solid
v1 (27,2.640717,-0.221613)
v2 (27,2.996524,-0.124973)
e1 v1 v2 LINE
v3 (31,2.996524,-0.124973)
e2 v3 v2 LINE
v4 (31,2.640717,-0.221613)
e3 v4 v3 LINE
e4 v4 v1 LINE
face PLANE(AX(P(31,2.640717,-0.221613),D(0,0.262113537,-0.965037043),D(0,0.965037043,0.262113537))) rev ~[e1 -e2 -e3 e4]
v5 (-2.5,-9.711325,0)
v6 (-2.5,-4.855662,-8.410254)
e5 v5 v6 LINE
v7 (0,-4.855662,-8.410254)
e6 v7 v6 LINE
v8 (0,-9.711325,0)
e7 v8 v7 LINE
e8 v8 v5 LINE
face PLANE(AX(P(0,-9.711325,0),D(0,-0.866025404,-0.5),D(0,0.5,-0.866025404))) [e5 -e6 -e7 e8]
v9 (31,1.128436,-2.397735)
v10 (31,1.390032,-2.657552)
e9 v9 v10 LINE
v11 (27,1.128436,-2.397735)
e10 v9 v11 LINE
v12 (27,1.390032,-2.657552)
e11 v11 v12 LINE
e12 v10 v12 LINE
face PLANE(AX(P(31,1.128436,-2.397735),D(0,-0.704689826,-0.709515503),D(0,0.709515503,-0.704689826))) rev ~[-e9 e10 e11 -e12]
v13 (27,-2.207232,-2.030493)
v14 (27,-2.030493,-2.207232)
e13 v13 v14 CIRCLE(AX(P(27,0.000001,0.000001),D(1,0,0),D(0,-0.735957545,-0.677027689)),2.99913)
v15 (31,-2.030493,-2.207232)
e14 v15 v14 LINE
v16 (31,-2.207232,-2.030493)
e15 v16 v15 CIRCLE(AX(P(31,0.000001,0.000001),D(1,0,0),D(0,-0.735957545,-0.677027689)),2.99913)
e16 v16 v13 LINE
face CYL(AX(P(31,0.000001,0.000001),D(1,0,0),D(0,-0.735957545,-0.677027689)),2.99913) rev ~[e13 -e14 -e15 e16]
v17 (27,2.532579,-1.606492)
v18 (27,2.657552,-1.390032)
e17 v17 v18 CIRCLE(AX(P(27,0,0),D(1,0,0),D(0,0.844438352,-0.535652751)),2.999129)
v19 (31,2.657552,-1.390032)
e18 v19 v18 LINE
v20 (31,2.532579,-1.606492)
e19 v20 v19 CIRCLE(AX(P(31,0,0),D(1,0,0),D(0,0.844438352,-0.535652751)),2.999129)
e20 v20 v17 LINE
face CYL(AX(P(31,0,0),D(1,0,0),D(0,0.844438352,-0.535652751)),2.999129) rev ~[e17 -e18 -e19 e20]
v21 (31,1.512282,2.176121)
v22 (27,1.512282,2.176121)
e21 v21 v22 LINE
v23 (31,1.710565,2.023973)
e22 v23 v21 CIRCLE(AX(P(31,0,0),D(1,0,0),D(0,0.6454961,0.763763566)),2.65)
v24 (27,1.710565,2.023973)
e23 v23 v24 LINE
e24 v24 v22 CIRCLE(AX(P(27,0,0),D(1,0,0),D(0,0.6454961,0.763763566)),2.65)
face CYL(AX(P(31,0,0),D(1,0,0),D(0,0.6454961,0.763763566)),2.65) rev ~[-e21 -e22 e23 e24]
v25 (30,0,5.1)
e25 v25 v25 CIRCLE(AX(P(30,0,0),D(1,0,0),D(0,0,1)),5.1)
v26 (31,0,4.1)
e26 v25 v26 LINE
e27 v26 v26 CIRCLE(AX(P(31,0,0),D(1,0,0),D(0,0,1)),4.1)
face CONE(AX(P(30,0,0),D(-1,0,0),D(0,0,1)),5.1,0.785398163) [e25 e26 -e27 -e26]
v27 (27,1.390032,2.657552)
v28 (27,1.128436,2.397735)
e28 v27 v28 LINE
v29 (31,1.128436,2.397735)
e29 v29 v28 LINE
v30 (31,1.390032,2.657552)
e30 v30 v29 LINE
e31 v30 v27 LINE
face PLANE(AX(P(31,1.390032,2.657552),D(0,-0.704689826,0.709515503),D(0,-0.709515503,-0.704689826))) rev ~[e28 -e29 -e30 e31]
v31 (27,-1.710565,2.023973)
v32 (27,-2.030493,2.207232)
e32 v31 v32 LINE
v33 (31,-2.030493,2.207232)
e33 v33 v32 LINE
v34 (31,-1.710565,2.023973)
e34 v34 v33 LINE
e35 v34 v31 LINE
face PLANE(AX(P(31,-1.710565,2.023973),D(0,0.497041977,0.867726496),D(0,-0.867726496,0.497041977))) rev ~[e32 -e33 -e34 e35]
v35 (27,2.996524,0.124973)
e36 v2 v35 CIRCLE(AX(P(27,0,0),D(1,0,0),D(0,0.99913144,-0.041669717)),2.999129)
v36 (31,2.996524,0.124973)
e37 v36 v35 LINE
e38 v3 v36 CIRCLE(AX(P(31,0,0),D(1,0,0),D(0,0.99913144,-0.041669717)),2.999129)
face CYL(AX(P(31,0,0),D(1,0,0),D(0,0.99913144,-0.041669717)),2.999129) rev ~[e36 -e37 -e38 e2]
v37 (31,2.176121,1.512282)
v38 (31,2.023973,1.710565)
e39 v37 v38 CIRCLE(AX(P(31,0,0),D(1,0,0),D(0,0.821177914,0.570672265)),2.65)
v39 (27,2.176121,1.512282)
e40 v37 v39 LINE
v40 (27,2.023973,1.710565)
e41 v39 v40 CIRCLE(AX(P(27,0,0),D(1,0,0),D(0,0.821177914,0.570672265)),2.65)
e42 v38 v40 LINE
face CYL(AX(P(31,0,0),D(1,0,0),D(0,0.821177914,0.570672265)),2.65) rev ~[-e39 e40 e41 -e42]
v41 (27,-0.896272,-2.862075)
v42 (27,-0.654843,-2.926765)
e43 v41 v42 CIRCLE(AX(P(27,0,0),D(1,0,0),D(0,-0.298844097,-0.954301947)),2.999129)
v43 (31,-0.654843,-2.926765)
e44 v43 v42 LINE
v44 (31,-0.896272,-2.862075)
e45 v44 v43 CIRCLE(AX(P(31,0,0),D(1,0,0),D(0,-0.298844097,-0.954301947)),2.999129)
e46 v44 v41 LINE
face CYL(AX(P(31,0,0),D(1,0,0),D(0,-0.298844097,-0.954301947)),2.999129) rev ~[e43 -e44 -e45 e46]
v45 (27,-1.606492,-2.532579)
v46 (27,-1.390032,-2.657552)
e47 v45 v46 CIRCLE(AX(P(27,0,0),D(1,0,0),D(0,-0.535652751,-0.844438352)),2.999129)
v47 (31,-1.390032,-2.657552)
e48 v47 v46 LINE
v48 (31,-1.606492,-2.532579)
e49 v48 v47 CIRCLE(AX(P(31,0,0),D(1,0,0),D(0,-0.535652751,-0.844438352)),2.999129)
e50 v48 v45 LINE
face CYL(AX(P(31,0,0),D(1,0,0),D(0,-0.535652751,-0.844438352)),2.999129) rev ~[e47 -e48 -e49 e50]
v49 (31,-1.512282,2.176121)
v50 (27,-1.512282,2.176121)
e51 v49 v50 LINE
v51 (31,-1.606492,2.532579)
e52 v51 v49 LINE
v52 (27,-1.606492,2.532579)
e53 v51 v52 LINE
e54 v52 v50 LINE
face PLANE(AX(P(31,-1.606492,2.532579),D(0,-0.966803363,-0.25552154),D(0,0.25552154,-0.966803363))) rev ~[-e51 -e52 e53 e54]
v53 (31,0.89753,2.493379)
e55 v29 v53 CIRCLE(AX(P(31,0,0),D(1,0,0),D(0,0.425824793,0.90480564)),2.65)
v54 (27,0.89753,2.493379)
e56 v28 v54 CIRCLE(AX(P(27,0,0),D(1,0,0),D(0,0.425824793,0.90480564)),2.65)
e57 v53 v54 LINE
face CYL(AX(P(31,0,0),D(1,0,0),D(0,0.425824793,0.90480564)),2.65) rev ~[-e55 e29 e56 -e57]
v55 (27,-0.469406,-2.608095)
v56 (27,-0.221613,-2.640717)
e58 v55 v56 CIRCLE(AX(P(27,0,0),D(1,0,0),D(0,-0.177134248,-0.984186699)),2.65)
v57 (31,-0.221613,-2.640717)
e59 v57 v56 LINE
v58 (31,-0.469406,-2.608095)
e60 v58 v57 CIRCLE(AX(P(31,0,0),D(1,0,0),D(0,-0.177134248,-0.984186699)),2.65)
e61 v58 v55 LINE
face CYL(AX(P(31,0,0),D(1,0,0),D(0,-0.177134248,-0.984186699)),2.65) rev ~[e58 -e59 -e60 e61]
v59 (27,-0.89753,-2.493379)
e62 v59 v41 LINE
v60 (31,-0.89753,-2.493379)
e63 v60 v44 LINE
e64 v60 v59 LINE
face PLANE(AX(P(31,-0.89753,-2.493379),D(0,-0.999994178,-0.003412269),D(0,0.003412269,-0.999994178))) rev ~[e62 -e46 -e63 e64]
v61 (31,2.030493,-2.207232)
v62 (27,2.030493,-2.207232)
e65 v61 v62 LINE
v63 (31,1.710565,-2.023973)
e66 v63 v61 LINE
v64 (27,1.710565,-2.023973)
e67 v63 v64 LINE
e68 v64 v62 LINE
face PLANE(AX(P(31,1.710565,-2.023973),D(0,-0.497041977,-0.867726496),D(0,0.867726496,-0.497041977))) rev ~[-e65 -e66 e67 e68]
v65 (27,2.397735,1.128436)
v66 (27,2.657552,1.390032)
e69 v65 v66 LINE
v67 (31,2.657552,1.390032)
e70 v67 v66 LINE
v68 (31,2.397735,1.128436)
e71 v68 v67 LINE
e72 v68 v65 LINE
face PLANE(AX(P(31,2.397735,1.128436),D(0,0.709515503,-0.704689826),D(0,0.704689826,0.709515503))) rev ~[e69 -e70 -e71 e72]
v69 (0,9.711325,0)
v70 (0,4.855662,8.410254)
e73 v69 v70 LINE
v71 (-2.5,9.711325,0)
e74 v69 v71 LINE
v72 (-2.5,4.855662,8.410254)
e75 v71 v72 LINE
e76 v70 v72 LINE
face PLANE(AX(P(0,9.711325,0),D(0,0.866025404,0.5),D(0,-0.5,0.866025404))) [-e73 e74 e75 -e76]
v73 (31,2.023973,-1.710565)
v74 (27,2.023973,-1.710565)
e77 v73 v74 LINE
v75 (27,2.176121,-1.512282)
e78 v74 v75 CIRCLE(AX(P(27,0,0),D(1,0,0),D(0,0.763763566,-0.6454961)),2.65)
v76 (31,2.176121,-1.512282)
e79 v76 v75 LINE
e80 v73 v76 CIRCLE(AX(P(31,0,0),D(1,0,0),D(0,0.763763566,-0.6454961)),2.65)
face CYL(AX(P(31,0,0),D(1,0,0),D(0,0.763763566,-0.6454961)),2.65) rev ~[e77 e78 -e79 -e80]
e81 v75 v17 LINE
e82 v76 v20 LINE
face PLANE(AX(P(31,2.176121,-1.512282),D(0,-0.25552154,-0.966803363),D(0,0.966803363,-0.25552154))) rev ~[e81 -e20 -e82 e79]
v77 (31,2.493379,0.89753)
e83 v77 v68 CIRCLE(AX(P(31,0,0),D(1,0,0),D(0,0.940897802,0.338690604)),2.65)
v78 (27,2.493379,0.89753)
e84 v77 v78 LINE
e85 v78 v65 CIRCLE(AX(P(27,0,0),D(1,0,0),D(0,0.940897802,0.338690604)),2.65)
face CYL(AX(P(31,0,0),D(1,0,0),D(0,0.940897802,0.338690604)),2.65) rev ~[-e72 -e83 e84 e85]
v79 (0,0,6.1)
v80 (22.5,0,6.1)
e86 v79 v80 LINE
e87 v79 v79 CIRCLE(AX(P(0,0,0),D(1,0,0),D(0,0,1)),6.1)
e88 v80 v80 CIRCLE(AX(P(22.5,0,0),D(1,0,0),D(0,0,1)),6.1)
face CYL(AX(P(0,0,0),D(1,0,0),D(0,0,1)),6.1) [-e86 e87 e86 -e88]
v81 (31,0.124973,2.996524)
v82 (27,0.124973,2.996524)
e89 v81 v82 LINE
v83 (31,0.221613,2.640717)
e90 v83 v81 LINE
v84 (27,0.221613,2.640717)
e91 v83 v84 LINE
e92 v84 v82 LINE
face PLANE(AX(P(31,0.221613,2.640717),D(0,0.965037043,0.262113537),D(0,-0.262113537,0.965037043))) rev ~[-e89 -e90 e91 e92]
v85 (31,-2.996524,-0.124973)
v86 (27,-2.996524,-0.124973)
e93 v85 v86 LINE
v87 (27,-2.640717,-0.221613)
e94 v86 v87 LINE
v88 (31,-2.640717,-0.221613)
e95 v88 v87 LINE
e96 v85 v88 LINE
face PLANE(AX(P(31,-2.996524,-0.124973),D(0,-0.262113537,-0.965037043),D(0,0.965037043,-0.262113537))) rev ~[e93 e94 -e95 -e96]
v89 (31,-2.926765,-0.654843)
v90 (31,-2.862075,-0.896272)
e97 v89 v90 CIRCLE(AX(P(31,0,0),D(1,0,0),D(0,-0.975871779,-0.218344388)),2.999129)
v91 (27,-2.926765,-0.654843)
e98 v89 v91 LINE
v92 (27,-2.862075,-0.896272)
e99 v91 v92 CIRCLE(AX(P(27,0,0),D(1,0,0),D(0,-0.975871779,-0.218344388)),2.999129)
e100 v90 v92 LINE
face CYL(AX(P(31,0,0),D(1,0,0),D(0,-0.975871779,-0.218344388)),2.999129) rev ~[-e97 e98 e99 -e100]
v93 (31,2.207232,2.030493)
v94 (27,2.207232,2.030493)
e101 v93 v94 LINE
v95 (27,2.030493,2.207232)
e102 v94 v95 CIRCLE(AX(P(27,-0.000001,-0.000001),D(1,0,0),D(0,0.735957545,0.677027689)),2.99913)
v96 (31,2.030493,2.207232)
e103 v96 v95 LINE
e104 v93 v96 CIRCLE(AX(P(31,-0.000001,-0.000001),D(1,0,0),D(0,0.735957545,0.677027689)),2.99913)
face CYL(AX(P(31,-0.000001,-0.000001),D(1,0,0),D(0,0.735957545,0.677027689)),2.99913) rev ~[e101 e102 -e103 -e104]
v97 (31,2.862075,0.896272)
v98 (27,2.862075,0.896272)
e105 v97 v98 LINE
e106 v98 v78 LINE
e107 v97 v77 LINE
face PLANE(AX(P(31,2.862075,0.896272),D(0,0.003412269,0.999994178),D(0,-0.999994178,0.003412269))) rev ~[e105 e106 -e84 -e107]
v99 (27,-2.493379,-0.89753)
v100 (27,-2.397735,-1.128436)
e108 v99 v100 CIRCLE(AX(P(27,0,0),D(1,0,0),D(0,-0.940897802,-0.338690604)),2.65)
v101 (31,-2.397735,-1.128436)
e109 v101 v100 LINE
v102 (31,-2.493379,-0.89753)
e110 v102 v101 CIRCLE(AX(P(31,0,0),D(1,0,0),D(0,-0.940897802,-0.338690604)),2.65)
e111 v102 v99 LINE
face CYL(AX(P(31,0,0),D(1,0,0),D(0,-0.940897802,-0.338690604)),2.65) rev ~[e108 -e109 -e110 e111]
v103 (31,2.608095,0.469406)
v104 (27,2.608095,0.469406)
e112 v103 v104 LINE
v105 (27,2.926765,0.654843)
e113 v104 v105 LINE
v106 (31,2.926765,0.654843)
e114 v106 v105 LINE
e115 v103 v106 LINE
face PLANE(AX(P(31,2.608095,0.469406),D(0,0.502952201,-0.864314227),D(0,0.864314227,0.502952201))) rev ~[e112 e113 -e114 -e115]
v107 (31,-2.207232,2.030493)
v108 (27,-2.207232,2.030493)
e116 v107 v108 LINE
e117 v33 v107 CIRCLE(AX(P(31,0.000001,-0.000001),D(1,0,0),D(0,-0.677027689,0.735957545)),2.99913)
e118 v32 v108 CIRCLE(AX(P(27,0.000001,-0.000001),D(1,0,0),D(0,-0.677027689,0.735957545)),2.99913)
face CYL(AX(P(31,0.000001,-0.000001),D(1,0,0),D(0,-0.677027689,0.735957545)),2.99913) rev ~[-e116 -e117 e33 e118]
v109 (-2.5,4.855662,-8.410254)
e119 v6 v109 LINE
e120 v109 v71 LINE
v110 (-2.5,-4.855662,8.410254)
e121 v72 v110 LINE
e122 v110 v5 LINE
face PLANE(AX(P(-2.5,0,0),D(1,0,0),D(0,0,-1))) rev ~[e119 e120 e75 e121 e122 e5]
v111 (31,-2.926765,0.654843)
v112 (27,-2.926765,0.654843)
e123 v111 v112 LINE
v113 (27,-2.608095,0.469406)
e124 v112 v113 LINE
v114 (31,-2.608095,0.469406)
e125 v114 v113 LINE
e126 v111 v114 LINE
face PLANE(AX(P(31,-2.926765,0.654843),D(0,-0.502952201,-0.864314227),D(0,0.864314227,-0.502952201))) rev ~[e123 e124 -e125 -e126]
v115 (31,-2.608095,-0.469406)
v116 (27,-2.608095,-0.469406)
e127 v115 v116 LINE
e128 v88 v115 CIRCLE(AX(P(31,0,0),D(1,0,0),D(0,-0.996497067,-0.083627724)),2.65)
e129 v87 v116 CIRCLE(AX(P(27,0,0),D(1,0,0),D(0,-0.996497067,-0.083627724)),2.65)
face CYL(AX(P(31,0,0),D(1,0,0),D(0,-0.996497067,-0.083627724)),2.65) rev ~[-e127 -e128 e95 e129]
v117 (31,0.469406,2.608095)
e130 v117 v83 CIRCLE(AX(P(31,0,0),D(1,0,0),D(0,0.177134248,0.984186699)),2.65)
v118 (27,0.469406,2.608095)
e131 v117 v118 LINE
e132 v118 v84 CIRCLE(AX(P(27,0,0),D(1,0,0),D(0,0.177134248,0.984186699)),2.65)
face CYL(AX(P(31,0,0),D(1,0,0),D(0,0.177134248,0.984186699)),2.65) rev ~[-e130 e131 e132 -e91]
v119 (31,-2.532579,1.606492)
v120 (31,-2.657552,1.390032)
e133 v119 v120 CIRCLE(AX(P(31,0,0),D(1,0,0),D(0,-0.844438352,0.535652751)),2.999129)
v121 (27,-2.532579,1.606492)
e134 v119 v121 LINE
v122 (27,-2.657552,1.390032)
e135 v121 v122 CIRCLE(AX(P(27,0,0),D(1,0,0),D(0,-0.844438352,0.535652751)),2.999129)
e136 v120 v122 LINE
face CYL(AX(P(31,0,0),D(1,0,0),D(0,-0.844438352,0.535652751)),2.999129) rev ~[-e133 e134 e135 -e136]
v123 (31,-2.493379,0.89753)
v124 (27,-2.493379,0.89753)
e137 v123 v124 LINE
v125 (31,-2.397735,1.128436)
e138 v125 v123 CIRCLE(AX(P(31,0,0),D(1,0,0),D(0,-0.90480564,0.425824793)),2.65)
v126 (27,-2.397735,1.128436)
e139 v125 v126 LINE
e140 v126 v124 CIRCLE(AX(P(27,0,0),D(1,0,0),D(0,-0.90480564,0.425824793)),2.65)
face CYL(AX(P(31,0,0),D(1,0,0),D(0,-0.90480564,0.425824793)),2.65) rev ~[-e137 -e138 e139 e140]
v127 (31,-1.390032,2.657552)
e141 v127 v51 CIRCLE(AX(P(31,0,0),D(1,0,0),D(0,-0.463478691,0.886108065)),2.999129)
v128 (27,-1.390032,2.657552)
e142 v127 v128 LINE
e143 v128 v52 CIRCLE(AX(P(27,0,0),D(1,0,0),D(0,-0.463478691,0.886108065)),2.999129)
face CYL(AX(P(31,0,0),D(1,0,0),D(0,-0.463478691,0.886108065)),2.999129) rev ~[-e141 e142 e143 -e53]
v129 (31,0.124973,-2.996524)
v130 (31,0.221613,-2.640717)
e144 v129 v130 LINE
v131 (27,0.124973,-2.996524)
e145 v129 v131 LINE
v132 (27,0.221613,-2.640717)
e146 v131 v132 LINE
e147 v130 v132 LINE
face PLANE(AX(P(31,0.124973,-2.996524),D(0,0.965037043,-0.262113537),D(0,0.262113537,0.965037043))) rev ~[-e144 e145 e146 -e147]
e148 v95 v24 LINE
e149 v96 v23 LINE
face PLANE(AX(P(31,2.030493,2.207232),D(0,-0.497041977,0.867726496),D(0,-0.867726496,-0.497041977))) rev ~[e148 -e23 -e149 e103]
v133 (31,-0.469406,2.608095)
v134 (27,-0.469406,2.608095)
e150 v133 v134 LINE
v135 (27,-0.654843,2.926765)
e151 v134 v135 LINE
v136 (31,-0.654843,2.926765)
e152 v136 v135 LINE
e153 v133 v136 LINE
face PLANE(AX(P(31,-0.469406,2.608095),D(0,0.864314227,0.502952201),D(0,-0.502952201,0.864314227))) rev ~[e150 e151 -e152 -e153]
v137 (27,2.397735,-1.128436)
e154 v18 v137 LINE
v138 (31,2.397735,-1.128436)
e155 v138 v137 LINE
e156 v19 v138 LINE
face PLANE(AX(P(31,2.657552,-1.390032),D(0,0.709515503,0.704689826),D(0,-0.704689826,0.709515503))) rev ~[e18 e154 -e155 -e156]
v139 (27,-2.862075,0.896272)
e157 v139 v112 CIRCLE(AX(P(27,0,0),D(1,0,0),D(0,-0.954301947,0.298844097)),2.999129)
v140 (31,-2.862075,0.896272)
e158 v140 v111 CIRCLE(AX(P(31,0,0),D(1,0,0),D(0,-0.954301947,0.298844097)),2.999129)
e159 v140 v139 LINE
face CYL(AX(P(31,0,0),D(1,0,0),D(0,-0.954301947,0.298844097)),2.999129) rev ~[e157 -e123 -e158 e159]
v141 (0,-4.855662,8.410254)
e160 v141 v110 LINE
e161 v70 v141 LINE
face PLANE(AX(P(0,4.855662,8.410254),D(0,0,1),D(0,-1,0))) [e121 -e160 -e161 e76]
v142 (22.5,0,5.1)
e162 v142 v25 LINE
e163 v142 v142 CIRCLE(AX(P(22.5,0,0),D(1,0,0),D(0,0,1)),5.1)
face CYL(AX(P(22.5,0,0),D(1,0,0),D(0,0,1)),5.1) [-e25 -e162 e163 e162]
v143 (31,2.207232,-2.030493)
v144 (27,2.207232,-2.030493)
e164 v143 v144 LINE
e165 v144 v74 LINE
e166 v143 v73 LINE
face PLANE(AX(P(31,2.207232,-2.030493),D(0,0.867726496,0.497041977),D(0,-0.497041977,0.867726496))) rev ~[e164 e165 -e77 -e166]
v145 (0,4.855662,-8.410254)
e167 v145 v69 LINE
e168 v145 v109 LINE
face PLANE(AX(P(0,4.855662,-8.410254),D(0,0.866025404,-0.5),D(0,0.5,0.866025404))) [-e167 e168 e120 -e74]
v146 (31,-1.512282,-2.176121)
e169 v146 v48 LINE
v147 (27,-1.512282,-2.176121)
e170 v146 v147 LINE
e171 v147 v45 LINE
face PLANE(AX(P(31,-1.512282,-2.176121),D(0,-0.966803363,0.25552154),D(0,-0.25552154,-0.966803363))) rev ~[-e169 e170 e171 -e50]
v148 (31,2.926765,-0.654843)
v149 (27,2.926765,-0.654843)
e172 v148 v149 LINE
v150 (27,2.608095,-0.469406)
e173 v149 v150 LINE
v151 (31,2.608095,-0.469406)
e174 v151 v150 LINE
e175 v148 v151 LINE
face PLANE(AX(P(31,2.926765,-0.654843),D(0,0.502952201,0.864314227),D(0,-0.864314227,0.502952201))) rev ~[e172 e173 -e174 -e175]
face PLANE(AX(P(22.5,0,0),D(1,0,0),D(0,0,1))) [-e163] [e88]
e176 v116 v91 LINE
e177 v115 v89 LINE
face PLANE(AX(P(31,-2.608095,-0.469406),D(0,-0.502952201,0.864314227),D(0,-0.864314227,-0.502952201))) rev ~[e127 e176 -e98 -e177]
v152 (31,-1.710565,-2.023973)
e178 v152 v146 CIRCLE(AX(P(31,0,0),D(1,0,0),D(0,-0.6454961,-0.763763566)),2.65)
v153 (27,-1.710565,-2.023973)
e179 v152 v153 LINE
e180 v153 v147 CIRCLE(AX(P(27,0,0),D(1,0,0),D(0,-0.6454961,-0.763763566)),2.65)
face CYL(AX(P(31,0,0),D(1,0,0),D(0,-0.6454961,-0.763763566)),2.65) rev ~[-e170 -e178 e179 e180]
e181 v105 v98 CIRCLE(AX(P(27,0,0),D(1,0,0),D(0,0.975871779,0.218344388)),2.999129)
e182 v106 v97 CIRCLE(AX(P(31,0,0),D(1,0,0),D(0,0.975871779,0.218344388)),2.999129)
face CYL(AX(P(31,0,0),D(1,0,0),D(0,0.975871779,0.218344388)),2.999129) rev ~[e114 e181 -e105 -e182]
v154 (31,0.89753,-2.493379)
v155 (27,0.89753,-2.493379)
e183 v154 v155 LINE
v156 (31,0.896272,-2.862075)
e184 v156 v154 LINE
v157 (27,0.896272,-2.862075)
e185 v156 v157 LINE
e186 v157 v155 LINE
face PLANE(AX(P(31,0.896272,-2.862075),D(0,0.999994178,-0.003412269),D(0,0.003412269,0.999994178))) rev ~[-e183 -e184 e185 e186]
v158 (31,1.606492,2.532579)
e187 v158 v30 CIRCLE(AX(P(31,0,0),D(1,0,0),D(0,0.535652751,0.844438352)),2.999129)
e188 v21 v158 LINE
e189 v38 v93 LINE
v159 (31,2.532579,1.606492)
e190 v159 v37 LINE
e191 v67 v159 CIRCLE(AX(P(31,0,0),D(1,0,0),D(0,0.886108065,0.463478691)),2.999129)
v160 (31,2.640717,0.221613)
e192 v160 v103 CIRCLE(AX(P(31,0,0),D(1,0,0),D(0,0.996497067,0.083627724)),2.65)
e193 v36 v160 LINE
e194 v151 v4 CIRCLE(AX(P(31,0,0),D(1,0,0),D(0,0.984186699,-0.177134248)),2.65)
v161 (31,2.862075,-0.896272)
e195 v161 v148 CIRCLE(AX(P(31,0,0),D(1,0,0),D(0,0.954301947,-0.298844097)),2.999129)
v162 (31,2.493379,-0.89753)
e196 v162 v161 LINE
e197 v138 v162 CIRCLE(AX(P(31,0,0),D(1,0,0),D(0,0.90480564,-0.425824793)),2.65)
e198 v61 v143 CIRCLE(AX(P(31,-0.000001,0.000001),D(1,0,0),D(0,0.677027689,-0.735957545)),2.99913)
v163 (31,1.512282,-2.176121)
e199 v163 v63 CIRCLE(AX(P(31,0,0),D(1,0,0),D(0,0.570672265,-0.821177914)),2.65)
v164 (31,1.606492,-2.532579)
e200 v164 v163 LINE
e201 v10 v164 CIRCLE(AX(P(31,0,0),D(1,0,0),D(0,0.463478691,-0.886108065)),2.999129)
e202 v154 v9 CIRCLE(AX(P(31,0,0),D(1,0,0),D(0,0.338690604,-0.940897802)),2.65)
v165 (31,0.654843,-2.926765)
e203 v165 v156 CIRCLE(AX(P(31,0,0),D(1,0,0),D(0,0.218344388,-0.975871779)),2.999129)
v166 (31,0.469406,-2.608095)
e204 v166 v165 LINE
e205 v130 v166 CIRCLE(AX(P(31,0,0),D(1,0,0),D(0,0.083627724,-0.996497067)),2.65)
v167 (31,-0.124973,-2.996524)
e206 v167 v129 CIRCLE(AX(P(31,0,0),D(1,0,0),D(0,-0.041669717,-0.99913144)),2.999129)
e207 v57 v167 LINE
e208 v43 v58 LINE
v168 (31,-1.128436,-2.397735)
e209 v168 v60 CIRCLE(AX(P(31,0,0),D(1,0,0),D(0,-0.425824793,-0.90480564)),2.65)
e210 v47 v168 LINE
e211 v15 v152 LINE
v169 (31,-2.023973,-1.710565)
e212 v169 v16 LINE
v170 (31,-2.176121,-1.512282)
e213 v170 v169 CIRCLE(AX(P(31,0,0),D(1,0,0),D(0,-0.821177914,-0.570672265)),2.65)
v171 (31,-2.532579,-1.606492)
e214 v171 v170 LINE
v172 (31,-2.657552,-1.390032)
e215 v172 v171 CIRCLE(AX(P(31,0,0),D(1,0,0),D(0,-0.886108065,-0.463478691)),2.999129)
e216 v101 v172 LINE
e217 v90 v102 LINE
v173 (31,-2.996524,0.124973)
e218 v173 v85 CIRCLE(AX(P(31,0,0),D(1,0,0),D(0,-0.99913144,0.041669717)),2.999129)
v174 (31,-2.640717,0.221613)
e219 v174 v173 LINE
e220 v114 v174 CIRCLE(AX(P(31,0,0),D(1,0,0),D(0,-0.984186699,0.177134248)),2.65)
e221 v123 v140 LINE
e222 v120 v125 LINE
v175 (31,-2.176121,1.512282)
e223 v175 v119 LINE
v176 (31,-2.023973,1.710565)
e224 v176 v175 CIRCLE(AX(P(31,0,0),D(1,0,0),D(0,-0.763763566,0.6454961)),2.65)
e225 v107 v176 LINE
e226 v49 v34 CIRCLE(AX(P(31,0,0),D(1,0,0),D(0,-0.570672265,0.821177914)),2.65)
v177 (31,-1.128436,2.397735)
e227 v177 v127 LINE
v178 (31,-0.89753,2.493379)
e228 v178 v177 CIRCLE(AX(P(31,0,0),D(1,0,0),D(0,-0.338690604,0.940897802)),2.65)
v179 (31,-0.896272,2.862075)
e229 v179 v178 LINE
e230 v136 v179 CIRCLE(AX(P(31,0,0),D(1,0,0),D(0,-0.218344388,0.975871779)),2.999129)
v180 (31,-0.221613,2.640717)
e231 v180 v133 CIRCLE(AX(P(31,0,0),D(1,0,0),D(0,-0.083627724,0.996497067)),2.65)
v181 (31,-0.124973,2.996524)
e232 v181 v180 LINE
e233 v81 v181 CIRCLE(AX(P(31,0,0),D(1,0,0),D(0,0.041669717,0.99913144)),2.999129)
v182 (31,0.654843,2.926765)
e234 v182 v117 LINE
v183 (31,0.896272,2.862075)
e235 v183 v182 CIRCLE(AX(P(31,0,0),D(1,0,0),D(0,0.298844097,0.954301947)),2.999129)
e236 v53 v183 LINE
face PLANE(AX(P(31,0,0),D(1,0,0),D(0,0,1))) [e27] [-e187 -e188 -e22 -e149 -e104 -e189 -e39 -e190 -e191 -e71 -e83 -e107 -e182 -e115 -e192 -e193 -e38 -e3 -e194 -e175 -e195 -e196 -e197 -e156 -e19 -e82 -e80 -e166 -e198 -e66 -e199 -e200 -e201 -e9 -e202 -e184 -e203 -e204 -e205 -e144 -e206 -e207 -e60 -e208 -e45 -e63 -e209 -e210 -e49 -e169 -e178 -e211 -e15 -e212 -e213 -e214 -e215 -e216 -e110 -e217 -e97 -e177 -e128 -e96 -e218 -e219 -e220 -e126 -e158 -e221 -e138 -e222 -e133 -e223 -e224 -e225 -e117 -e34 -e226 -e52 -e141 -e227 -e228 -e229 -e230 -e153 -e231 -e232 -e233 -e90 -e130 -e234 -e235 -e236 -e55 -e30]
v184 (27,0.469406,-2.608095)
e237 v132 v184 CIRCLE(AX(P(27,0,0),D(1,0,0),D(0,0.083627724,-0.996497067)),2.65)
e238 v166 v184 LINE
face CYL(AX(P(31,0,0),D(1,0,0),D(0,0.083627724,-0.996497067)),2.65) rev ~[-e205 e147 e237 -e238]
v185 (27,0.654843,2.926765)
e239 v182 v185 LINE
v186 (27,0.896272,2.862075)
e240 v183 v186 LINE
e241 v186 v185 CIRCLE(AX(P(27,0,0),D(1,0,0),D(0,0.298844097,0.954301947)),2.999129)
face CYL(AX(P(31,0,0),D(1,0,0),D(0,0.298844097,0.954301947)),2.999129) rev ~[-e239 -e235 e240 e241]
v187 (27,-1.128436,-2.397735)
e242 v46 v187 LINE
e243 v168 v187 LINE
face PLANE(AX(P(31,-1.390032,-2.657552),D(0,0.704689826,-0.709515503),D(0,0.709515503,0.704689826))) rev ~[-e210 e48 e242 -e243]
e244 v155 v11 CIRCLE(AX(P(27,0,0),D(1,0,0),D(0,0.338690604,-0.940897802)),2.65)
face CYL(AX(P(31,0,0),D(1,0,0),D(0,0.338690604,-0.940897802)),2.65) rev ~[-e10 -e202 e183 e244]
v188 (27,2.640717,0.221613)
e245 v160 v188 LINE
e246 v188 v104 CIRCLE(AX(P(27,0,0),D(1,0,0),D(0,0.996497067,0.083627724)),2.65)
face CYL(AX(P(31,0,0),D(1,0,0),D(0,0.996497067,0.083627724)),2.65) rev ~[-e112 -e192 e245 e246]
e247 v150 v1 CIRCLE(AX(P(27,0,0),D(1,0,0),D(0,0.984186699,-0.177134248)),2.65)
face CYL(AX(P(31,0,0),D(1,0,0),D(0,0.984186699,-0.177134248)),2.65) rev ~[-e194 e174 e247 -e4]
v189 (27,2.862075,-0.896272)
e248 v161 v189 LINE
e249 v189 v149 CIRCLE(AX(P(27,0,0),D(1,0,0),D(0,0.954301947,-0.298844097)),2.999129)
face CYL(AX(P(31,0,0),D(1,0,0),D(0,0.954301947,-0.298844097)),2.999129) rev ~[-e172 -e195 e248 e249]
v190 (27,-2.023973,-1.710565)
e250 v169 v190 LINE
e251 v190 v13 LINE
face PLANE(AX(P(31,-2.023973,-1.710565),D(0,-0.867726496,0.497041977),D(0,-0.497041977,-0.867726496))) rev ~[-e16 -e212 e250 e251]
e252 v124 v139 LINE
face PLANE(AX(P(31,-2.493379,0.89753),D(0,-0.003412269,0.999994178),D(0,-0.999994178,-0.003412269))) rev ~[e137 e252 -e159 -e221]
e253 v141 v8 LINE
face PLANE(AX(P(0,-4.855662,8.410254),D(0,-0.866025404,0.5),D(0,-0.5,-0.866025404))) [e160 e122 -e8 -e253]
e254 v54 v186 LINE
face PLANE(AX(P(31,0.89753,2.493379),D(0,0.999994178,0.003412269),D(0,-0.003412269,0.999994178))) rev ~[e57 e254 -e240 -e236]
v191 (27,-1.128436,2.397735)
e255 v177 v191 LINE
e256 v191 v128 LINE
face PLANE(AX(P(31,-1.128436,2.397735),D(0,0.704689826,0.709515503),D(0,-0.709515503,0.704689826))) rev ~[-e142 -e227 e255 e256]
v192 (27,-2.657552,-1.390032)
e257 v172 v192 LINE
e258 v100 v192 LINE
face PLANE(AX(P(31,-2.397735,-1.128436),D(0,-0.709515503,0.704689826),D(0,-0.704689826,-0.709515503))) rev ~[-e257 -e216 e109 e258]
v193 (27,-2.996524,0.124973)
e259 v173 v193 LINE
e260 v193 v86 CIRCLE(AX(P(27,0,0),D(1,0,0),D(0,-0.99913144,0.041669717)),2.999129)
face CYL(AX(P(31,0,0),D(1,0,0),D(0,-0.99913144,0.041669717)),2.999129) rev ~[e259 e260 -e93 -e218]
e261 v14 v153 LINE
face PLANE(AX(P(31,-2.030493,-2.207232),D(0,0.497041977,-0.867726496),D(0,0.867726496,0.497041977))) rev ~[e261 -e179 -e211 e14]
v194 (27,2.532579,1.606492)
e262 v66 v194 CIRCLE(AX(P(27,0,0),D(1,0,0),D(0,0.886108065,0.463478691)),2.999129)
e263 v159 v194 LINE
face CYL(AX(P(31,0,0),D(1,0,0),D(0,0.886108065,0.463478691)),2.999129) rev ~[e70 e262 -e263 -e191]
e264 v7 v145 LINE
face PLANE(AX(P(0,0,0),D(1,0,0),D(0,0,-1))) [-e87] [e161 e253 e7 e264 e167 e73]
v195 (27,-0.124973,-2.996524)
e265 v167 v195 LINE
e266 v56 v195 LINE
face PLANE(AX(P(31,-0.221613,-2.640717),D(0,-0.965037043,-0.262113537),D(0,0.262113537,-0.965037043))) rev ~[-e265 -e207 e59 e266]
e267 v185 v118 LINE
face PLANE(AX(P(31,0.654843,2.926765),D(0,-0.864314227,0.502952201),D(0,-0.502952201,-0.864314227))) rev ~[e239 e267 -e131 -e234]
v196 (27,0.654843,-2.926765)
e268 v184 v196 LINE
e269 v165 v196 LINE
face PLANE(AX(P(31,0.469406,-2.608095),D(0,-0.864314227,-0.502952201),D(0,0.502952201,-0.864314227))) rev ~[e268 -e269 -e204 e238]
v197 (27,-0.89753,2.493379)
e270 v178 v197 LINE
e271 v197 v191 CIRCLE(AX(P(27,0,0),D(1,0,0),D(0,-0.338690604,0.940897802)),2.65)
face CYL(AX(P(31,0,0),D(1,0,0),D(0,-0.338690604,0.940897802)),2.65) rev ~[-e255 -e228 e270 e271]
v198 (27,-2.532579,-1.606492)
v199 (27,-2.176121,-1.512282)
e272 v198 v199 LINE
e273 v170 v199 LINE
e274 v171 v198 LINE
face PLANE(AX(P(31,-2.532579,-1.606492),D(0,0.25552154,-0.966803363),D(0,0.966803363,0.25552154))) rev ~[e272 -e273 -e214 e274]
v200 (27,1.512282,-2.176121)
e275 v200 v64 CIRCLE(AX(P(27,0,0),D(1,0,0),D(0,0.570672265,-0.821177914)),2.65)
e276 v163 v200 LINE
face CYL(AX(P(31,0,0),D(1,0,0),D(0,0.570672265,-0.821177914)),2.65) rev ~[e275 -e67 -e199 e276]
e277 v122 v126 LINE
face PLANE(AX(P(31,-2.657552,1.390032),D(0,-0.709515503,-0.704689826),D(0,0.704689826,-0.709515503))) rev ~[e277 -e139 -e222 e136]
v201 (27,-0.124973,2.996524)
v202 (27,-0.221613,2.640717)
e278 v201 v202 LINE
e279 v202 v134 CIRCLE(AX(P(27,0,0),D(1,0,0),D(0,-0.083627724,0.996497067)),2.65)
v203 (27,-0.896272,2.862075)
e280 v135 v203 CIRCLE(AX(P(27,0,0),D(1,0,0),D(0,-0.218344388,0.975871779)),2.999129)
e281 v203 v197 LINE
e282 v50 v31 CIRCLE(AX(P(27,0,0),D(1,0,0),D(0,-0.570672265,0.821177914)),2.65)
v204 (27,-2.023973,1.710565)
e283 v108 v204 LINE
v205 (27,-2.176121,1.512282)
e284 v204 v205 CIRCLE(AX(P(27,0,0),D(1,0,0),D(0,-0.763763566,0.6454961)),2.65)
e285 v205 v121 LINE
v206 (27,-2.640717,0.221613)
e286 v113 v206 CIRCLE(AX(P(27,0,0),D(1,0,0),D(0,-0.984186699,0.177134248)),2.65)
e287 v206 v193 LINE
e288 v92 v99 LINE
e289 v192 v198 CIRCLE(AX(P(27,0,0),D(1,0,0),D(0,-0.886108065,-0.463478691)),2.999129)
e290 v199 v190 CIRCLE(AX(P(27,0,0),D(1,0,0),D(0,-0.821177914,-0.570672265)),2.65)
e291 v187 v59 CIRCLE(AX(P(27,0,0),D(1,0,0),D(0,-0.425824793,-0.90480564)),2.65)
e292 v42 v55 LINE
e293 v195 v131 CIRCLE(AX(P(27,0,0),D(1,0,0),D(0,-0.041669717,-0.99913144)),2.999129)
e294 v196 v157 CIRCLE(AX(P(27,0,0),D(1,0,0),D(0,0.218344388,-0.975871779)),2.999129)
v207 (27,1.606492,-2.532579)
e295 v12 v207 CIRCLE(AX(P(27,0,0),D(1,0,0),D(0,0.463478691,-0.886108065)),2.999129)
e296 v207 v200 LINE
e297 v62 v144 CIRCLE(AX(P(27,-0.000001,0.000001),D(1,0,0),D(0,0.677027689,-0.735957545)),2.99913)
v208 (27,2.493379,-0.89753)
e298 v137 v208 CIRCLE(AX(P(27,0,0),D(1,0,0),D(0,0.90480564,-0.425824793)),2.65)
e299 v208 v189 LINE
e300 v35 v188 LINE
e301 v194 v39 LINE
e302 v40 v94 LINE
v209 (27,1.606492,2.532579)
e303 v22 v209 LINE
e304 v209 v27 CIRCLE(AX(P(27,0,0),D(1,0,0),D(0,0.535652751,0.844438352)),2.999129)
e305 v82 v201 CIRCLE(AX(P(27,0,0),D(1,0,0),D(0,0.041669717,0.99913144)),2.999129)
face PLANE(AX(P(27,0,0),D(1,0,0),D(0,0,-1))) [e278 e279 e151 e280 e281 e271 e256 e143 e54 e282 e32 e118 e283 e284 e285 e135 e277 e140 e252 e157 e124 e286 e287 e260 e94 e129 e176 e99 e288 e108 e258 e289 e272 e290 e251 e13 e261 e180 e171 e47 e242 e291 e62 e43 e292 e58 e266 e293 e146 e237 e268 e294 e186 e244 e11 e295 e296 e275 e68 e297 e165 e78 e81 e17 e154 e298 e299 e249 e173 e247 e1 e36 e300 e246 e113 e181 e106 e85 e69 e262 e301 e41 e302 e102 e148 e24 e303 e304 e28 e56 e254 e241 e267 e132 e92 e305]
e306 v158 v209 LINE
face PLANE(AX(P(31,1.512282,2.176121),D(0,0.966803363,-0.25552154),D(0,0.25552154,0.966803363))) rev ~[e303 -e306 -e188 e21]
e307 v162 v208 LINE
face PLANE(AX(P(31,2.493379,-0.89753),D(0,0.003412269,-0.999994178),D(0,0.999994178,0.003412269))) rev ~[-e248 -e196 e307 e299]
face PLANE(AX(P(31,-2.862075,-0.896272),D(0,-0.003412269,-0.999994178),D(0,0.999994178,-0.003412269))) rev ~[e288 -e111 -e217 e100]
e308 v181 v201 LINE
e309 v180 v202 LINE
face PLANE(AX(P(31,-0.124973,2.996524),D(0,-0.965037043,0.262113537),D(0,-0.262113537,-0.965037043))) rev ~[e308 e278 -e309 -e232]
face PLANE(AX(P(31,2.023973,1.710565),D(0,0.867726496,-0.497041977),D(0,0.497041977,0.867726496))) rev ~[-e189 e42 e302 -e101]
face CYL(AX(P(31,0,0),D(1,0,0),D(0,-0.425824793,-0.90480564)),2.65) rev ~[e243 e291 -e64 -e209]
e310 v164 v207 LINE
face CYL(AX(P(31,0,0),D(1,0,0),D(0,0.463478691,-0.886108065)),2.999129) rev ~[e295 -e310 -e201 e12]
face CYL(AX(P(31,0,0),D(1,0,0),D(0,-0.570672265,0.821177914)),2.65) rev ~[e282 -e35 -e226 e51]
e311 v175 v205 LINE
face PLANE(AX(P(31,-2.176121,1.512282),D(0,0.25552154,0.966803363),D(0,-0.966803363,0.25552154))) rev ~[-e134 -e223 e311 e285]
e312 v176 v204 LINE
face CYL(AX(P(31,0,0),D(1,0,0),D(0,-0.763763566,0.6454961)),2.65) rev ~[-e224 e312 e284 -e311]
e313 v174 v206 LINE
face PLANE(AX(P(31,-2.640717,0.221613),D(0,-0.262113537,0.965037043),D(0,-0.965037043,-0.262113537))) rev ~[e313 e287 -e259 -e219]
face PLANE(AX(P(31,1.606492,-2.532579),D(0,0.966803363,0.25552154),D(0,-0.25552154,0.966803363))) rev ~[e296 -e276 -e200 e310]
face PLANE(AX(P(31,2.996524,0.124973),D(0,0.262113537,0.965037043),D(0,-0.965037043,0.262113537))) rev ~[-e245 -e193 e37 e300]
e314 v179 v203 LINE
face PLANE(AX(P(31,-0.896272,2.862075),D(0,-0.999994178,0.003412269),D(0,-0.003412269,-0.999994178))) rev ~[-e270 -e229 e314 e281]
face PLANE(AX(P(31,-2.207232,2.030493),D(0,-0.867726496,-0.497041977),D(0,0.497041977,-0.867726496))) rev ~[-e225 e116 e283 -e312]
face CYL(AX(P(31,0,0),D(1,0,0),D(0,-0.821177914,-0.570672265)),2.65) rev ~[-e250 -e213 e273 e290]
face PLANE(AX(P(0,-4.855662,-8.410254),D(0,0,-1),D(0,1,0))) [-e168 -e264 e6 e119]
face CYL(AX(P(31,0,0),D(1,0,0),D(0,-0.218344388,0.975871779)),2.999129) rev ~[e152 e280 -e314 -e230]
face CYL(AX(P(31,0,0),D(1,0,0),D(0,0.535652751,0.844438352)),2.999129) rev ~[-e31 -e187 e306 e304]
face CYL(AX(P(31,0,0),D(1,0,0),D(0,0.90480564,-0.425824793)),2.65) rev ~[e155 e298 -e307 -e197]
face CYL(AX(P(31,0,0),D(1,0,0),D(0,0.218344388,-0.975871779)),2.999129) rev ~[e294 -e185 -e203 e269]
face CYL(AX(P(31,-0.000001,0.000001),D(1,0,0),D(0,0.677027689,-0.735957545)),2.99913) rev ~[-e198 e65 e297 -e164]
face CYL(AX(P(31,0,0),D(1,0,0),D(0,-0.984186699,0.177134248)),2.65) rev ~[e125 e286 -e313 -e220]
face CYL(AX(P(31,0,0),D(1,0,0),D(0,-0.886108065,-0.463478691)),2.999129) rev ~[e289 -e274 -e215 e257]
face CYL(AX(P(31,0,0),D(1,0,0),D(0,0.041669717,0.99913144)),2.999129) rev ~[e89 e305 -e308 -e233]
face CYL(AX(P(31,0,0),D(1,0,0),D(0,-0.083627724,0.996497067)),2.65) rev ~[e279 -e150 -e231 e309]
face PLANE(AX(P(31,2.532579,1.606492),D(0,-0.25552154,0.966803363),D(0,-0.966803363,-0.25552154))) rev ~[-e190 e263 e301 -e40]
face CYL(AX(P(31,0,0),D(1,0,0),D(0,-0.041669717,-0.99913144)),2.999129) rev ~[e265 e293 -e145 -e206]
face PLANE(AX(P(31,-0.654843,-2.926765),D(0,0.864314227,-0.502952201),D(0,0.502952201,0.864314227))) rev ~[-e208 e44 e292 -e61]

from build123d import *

# Parameters (mm, degrees)
EXTRUDE_1_DEPTH     = 2.5
CUT_EXTRUDE_1_DEPTH = 4


with BuildPart() as part:
    # Эскиз1 → Бобышка-Вытянуть1 (new body)
    with BuildSketch(Plane(origin=(0, 0, 0), x_dir=(0, 0, -1), z_dir=(1, 0, 0))):
        Polygon((0, 9.711324865), (-8.410254038, 4.855662433), (-8.410254038, -4.855662433), (0, -9.711324865), (8.410254038, -4.855662433), (8.410254038, 4.855662433), align=None)
    extrude(amount=-EXTRUDE_1_DEPTH)

    # Эскиз3 → Повернуть1 (revolve)
    with BuildSketch(Plane.XY, mode=Mode.PRIVATE) as revolve_1_sk:
        Polygon((0, 0), (0, 6.1), (22.5, 6.1), (22.5, 5.1), (30, 5.1), (31, 4.1), (31, 0), align=None)
    revolve(revolve_1_sk.sketch.rotate(Axis((-6.877569373, 0, 0), (1, 0, 0)), 90), axis=Axis((-6.877569373, 0, 0), (1, 0, 0)))

    # Эскиз4 → Вырез-Вытянуть1 (cut)
    with BuildSketch(Plane(origin=(31, 0, -31), x_dir=(0, 0, 1), z_dir=(-1, 0, 0))):
        with BuildLine():
            Line((30.778386531, 2.640717227), (30.875027145, 2.996524002))
            ThreePointArc((30.875027145, 2.996524002), (31, 2.999128925), (31.124972855, 2.996524002))
            Line((31.124972855, 2.996524002), (31.221613469, 2.640717227))
            ThreePointArc((31.221613469, 2.640717227), (31.345894409, 2.627328883), (31.469405738, 2.608094755))
            Line((31.469405738, 2.608094755), (31.654842973, 2.926765277))
            ThreePointArc((31.654842973, 2.926765277), (31.776231684, 2.896936085), (31.896271989, 2.862074568))
            Line((31.896271989, 2.862074568), (31.897530084, 2.493379183))
            ThreePointArc((31.897530084, 2.493379183), (32.014111096, 2.448280761), (32.12843572, 2.397734937))
            Line((32.12843572, 2.397734937), (32.390032334, 2.657552336))
            ThreePointArc((32.390032334, 2.657552336), (32.499564462, 2.597321838), (32.606491668, 2.532579481))
            Line((32.606491668, 2.532579481), (32.512281507, 2.176121468))
            ThreePointArc((32.512281507, 2.176121468), (32.613217787, 2.102386352), (32.710564672, 2.023973445))
            Line((32.710564672, 2.023973445), (33.030493289, 2.207231595))
            ThreePointArc((33.030493289, 2.207231595), (33.1207044, 2.1207044), (33.207231595, 2.030493289))
            Line((33.207231595, 2.030493289), (33.023973445, 1.710564672))
            ThreePointArc((33.023973445, 1.710564672), (33.102386352, 1.613217787), (33.176121468, 1.512281507))
            Line((33.176121468, 1.512281507), (33.532579481, 1.606491668))
            ThreePointArc((33.532579481, 1.606491668), (33.597321838, 1.499564462), (33.657552336, 1.390032334))
            Line((33.657552336, 1.390032334), (33.397734937, 1.12843572))
            ThreePointArc((33.397734937, 1.12843572), (33.448280761, 1.014111096), (33.493379183, 0.897530084))
            Line((33.493379183, 0.897530084), (33.862074568, 0.896271989))
            ThreePointArc((33.862074568, 0.896271989), (33.896936085, 0.776231684), (33.926765277, 0.654842973))
            Line((33.926765277, 0.654842973), (33.608094755, 0.469405738))
            ThreePointArc((33.608094755, 0.469405738), (33.627328883, 0.345894409), (33.640717227, 0.221613469))
            Line((33.640717227, 0.221613469), (33.996524002, 0.124972855))
            ThreePointArc((33.996524002, 0.124972855), (33.999128925, 0), (33.996524002, -0.124972855))
            Line((33.996524002, -0.124972855), (33.640717227, -0.221613469))
            ThreePointArc((33.640717227, -0.221613469), (33.627328883, -0.345894409), (33.608094755, -0.469405738))
            Line((33.608094755, -0.469405738), (33.926765277, -0.654842973))
            ThreePointArc((33.926765277, -0.654842973), (33.896936085, -0.776231684), (33.862074568, -0.896271989))
            Line((33.862074568, -0.896271989), (33.493379183, -0.897530084))
            ThreePointArc((33.493379183, -0.897530084), (33.448280761, -1.014111096), (33.397734937, -1.12843572))
            Line((33.397734937, -1.12843572), (33.657552336, -1.390032334))
            ThreePointArc((33.657552336, -1.390032334), (33.597321838, -1.499564462), (33.532579481, -1.606491668))
            Line((33.532579481, -1.606491668), (33.176121468, -1.512281507))
            ThreePointArc((33.176121468, -1.512281507), (33.102386352, -1.613217787), (33.023973445, -1.710564672))
            Line((33.023973445, -1.710564672), (33.207231595, -2.030493289))
            ThreePointArc((33.207231595, -2.030493289), (33.1207044, -2.1207044), (33.030493289, -2.207231595))
            Line((33.030493289, -2.207231595), (32.710564672, -2.023973445))
            ThreePointArc((32.710564672, -2.023973445), (32.613217787, -2.102386352), (32.512281507, -2.176121468))
            Line((32.512281507, -2.176121468), (32.606491668, -2.532579481))
            ThreePointArc((32.606491668, -2.532579481), (32.499564462, -2.597321838), (32.390032334, -2.657552336))
            Line((32.390032334, -2.657552336), (32.12843572, -2.397734937))
            ThreePointArc((32.12843572, -2.397734937), (32.014111096, -2.448280761), (31.897530084, -2.493379183))
            Line((31.897530084, -2.493379183), (31.896271989, -2.862074568))
            ThreePointArc((31.896271989, -2.862074568), (31.776231684, -2.896936085), (31.654842973, -2.926765277))
            Line((31.654842973, -2.926765277), (31.469405738, -2.608094755))
            ThreePointArc((31.469405738, -2.608094755), (31.345894409, -2.627328883), (31.221613469, -2.640717227))
            Line((31.221613469, -2.640717227), (31.124972855, -2.996524002))
            ThreePointArc((31.124972855, -2.996524002), (31, -2.999128925), (30.875027145, -2.996524002))
            Line((30.875027145, -2.996524002), (30.778386531, -2.640717227))
            ThreePointArc((30.778386531, -2.640717227), (30.654105591, -2.627328883), (30.530594262, -2.608094755))
            Line((30.530594262, -2.608094755), (30.345157027, -2.926765277))
            ThreePointArc((30.345157027, -2.926765277), (30.223768316, -2.896936085), (30.103728011, -2.862074568))
            Line((30.103728011, -2.862074568), (30.102469916, -2.493379183))
            ThreePointArc((30.102469916, -2.493379183), (29.985888904, -2.448280761), (29.87156428, -2.397734937))
            Line((29.87156428, -2.397734937), (29.609967666, -2.657552336))
            ThreePointArc((29.609967666, -2.657552336), (29.500435538, -2.597321838), (29.393508332, -2.532579481))
            Line((29.393508332, -2.532579481), (29.487718493, -2.176121468))
            ThreePointArc((29.487718493, -2.176121468), (29.386782213, -2.102386352), (29.289435328, -2.023973445))
            Line((29.289435328, -2.023973445), (28.969506711, -2.207231595))
            ThreePointArc((28.969506711, -2.207231595), (28.8792956, -2.1207044), (28.792768405, -2.030493289))
            Line((28.792768405, -2.030493289), (28.976026555, -1.710564672))
            ThreePointArc((28.976026555, -1.710564672), (28.897613648, -1.613217787), (28.823878532, -1.512281507))
            Line((28.823878532, -1.512281507), (28.467420519, -1.606491668))
            ThreePointArc((28.467420519, -1.606491668), (28.402678162, -1.499564462), (28.342447664, -1.390032334))
            Line((28.342447664, -1.390032334), (28.602265063, -1.12843572))
            ThreePointArc((28.602265063, -1.12843572), (28.551719239, -1.014111096), (28.506620817, -0.897530084))
            Line((28.506620817, -0.897530084), (28.137925432, -0.896271989))
            ThreePointArc((28.137925432, -0.896271989), (28.103063915, -0.776231684), (28.073234723, -0.654842973))
            Line((28.073234723, -0.654842973), (28.391905245, -0.469405738))
            ThreePointArc((28.391905245, -0.469405738), (28.372671117, -0.345894409), (28.359282773, -0.221613469))
            Line((28.359282773, -0.221613469), (28.003475998, -0.124972855))
            ThreePointArc((28.003475998, -0.124972855), (28.000871075, 0), (28.003475998, 0.124972855))
            Line((28.003475998, 0.124972855), (28.359282773, 0.221613469))
            ThreePointArc((28.359282773, 0.221613469), (28.372671117, 0.345894409), (28.391905245, 0.469405738))
            Line((28.391905245, 0.469405738), (28.073234723, 0.654842973))
            ThreePointArc((28.073234723, 0.654842973), (28.103063915, 0.776231684), (28.137925432, 0.896271989))
            Line((28.137925432, 0.896271989), (28.506620817, 0.897530084))
            ThreePointArc((28.506620817, 0.897530084), (28.551719239, 1.014111096), (28.602265063, 1.12843572))
            Line((28.602265063, 1.12843572), (28.342447664, 1.390032334))
            ThreePointArc((28.342447664, 1.390032334), (28.402678162, 1.499564462), (28.467420519, 1.606491668))
            Line((28.467420519, 1.606491668), (28.823878532, 1.512281507))
            ThreePointArc((28.823878532, 1.512281507), (28.897613648, 1.613217787), (28.976026555, 1.710564672))
            Line((28.976026555, 1.710564672), (28.792768405, 2.030493289))
            ThreePointArc((28.792768405, 2.030493289), (28.8792956, 2.1207044), (28.969506711, 2.207231595))
            Line((28.969506711, 2.207231595), (29.289435328, 2.023973445))
            ThreePointArc((29.289435328, 2.023973445), (29.386782213, 2.102386352), (29.487718493, 2.176121468))
            Line((29.487718493, 2.176121468), (29.393508332, 2.532579481))
            ThreePointArc((29.393508332, 2.532579481), (29.500435538, 2.597321838), (29.609967666, 2.657552336))
            Line((29.609967666, 2.657552336), (29.87156428, 2.397734937))
            ThreePointArc((29.87156428, 2.397734937), (29.985888904, 2.448280761), (30.102469916, 2.493379183))
            Line((30.102469916, 2.493379183), (30.103728011, 2.862074568))
            ThreePointArc((30.103728011, 2.862074568), (30.223768316, 2.896936085), (30.345157027, 2.926765277))
            Line((30.345157027, 2.926765277), (30.530594262, 2.608094755))
            ThreePointArc((30.530594262, 2.608094755), (30.654105591, 2.627328883), (30.778386531, 2.640717227))
        make_face()
    extrude(amount=CUT_EXTRUDE_1_DEPTH, mode=Mode.SUBTRACT)


solid = part.part
